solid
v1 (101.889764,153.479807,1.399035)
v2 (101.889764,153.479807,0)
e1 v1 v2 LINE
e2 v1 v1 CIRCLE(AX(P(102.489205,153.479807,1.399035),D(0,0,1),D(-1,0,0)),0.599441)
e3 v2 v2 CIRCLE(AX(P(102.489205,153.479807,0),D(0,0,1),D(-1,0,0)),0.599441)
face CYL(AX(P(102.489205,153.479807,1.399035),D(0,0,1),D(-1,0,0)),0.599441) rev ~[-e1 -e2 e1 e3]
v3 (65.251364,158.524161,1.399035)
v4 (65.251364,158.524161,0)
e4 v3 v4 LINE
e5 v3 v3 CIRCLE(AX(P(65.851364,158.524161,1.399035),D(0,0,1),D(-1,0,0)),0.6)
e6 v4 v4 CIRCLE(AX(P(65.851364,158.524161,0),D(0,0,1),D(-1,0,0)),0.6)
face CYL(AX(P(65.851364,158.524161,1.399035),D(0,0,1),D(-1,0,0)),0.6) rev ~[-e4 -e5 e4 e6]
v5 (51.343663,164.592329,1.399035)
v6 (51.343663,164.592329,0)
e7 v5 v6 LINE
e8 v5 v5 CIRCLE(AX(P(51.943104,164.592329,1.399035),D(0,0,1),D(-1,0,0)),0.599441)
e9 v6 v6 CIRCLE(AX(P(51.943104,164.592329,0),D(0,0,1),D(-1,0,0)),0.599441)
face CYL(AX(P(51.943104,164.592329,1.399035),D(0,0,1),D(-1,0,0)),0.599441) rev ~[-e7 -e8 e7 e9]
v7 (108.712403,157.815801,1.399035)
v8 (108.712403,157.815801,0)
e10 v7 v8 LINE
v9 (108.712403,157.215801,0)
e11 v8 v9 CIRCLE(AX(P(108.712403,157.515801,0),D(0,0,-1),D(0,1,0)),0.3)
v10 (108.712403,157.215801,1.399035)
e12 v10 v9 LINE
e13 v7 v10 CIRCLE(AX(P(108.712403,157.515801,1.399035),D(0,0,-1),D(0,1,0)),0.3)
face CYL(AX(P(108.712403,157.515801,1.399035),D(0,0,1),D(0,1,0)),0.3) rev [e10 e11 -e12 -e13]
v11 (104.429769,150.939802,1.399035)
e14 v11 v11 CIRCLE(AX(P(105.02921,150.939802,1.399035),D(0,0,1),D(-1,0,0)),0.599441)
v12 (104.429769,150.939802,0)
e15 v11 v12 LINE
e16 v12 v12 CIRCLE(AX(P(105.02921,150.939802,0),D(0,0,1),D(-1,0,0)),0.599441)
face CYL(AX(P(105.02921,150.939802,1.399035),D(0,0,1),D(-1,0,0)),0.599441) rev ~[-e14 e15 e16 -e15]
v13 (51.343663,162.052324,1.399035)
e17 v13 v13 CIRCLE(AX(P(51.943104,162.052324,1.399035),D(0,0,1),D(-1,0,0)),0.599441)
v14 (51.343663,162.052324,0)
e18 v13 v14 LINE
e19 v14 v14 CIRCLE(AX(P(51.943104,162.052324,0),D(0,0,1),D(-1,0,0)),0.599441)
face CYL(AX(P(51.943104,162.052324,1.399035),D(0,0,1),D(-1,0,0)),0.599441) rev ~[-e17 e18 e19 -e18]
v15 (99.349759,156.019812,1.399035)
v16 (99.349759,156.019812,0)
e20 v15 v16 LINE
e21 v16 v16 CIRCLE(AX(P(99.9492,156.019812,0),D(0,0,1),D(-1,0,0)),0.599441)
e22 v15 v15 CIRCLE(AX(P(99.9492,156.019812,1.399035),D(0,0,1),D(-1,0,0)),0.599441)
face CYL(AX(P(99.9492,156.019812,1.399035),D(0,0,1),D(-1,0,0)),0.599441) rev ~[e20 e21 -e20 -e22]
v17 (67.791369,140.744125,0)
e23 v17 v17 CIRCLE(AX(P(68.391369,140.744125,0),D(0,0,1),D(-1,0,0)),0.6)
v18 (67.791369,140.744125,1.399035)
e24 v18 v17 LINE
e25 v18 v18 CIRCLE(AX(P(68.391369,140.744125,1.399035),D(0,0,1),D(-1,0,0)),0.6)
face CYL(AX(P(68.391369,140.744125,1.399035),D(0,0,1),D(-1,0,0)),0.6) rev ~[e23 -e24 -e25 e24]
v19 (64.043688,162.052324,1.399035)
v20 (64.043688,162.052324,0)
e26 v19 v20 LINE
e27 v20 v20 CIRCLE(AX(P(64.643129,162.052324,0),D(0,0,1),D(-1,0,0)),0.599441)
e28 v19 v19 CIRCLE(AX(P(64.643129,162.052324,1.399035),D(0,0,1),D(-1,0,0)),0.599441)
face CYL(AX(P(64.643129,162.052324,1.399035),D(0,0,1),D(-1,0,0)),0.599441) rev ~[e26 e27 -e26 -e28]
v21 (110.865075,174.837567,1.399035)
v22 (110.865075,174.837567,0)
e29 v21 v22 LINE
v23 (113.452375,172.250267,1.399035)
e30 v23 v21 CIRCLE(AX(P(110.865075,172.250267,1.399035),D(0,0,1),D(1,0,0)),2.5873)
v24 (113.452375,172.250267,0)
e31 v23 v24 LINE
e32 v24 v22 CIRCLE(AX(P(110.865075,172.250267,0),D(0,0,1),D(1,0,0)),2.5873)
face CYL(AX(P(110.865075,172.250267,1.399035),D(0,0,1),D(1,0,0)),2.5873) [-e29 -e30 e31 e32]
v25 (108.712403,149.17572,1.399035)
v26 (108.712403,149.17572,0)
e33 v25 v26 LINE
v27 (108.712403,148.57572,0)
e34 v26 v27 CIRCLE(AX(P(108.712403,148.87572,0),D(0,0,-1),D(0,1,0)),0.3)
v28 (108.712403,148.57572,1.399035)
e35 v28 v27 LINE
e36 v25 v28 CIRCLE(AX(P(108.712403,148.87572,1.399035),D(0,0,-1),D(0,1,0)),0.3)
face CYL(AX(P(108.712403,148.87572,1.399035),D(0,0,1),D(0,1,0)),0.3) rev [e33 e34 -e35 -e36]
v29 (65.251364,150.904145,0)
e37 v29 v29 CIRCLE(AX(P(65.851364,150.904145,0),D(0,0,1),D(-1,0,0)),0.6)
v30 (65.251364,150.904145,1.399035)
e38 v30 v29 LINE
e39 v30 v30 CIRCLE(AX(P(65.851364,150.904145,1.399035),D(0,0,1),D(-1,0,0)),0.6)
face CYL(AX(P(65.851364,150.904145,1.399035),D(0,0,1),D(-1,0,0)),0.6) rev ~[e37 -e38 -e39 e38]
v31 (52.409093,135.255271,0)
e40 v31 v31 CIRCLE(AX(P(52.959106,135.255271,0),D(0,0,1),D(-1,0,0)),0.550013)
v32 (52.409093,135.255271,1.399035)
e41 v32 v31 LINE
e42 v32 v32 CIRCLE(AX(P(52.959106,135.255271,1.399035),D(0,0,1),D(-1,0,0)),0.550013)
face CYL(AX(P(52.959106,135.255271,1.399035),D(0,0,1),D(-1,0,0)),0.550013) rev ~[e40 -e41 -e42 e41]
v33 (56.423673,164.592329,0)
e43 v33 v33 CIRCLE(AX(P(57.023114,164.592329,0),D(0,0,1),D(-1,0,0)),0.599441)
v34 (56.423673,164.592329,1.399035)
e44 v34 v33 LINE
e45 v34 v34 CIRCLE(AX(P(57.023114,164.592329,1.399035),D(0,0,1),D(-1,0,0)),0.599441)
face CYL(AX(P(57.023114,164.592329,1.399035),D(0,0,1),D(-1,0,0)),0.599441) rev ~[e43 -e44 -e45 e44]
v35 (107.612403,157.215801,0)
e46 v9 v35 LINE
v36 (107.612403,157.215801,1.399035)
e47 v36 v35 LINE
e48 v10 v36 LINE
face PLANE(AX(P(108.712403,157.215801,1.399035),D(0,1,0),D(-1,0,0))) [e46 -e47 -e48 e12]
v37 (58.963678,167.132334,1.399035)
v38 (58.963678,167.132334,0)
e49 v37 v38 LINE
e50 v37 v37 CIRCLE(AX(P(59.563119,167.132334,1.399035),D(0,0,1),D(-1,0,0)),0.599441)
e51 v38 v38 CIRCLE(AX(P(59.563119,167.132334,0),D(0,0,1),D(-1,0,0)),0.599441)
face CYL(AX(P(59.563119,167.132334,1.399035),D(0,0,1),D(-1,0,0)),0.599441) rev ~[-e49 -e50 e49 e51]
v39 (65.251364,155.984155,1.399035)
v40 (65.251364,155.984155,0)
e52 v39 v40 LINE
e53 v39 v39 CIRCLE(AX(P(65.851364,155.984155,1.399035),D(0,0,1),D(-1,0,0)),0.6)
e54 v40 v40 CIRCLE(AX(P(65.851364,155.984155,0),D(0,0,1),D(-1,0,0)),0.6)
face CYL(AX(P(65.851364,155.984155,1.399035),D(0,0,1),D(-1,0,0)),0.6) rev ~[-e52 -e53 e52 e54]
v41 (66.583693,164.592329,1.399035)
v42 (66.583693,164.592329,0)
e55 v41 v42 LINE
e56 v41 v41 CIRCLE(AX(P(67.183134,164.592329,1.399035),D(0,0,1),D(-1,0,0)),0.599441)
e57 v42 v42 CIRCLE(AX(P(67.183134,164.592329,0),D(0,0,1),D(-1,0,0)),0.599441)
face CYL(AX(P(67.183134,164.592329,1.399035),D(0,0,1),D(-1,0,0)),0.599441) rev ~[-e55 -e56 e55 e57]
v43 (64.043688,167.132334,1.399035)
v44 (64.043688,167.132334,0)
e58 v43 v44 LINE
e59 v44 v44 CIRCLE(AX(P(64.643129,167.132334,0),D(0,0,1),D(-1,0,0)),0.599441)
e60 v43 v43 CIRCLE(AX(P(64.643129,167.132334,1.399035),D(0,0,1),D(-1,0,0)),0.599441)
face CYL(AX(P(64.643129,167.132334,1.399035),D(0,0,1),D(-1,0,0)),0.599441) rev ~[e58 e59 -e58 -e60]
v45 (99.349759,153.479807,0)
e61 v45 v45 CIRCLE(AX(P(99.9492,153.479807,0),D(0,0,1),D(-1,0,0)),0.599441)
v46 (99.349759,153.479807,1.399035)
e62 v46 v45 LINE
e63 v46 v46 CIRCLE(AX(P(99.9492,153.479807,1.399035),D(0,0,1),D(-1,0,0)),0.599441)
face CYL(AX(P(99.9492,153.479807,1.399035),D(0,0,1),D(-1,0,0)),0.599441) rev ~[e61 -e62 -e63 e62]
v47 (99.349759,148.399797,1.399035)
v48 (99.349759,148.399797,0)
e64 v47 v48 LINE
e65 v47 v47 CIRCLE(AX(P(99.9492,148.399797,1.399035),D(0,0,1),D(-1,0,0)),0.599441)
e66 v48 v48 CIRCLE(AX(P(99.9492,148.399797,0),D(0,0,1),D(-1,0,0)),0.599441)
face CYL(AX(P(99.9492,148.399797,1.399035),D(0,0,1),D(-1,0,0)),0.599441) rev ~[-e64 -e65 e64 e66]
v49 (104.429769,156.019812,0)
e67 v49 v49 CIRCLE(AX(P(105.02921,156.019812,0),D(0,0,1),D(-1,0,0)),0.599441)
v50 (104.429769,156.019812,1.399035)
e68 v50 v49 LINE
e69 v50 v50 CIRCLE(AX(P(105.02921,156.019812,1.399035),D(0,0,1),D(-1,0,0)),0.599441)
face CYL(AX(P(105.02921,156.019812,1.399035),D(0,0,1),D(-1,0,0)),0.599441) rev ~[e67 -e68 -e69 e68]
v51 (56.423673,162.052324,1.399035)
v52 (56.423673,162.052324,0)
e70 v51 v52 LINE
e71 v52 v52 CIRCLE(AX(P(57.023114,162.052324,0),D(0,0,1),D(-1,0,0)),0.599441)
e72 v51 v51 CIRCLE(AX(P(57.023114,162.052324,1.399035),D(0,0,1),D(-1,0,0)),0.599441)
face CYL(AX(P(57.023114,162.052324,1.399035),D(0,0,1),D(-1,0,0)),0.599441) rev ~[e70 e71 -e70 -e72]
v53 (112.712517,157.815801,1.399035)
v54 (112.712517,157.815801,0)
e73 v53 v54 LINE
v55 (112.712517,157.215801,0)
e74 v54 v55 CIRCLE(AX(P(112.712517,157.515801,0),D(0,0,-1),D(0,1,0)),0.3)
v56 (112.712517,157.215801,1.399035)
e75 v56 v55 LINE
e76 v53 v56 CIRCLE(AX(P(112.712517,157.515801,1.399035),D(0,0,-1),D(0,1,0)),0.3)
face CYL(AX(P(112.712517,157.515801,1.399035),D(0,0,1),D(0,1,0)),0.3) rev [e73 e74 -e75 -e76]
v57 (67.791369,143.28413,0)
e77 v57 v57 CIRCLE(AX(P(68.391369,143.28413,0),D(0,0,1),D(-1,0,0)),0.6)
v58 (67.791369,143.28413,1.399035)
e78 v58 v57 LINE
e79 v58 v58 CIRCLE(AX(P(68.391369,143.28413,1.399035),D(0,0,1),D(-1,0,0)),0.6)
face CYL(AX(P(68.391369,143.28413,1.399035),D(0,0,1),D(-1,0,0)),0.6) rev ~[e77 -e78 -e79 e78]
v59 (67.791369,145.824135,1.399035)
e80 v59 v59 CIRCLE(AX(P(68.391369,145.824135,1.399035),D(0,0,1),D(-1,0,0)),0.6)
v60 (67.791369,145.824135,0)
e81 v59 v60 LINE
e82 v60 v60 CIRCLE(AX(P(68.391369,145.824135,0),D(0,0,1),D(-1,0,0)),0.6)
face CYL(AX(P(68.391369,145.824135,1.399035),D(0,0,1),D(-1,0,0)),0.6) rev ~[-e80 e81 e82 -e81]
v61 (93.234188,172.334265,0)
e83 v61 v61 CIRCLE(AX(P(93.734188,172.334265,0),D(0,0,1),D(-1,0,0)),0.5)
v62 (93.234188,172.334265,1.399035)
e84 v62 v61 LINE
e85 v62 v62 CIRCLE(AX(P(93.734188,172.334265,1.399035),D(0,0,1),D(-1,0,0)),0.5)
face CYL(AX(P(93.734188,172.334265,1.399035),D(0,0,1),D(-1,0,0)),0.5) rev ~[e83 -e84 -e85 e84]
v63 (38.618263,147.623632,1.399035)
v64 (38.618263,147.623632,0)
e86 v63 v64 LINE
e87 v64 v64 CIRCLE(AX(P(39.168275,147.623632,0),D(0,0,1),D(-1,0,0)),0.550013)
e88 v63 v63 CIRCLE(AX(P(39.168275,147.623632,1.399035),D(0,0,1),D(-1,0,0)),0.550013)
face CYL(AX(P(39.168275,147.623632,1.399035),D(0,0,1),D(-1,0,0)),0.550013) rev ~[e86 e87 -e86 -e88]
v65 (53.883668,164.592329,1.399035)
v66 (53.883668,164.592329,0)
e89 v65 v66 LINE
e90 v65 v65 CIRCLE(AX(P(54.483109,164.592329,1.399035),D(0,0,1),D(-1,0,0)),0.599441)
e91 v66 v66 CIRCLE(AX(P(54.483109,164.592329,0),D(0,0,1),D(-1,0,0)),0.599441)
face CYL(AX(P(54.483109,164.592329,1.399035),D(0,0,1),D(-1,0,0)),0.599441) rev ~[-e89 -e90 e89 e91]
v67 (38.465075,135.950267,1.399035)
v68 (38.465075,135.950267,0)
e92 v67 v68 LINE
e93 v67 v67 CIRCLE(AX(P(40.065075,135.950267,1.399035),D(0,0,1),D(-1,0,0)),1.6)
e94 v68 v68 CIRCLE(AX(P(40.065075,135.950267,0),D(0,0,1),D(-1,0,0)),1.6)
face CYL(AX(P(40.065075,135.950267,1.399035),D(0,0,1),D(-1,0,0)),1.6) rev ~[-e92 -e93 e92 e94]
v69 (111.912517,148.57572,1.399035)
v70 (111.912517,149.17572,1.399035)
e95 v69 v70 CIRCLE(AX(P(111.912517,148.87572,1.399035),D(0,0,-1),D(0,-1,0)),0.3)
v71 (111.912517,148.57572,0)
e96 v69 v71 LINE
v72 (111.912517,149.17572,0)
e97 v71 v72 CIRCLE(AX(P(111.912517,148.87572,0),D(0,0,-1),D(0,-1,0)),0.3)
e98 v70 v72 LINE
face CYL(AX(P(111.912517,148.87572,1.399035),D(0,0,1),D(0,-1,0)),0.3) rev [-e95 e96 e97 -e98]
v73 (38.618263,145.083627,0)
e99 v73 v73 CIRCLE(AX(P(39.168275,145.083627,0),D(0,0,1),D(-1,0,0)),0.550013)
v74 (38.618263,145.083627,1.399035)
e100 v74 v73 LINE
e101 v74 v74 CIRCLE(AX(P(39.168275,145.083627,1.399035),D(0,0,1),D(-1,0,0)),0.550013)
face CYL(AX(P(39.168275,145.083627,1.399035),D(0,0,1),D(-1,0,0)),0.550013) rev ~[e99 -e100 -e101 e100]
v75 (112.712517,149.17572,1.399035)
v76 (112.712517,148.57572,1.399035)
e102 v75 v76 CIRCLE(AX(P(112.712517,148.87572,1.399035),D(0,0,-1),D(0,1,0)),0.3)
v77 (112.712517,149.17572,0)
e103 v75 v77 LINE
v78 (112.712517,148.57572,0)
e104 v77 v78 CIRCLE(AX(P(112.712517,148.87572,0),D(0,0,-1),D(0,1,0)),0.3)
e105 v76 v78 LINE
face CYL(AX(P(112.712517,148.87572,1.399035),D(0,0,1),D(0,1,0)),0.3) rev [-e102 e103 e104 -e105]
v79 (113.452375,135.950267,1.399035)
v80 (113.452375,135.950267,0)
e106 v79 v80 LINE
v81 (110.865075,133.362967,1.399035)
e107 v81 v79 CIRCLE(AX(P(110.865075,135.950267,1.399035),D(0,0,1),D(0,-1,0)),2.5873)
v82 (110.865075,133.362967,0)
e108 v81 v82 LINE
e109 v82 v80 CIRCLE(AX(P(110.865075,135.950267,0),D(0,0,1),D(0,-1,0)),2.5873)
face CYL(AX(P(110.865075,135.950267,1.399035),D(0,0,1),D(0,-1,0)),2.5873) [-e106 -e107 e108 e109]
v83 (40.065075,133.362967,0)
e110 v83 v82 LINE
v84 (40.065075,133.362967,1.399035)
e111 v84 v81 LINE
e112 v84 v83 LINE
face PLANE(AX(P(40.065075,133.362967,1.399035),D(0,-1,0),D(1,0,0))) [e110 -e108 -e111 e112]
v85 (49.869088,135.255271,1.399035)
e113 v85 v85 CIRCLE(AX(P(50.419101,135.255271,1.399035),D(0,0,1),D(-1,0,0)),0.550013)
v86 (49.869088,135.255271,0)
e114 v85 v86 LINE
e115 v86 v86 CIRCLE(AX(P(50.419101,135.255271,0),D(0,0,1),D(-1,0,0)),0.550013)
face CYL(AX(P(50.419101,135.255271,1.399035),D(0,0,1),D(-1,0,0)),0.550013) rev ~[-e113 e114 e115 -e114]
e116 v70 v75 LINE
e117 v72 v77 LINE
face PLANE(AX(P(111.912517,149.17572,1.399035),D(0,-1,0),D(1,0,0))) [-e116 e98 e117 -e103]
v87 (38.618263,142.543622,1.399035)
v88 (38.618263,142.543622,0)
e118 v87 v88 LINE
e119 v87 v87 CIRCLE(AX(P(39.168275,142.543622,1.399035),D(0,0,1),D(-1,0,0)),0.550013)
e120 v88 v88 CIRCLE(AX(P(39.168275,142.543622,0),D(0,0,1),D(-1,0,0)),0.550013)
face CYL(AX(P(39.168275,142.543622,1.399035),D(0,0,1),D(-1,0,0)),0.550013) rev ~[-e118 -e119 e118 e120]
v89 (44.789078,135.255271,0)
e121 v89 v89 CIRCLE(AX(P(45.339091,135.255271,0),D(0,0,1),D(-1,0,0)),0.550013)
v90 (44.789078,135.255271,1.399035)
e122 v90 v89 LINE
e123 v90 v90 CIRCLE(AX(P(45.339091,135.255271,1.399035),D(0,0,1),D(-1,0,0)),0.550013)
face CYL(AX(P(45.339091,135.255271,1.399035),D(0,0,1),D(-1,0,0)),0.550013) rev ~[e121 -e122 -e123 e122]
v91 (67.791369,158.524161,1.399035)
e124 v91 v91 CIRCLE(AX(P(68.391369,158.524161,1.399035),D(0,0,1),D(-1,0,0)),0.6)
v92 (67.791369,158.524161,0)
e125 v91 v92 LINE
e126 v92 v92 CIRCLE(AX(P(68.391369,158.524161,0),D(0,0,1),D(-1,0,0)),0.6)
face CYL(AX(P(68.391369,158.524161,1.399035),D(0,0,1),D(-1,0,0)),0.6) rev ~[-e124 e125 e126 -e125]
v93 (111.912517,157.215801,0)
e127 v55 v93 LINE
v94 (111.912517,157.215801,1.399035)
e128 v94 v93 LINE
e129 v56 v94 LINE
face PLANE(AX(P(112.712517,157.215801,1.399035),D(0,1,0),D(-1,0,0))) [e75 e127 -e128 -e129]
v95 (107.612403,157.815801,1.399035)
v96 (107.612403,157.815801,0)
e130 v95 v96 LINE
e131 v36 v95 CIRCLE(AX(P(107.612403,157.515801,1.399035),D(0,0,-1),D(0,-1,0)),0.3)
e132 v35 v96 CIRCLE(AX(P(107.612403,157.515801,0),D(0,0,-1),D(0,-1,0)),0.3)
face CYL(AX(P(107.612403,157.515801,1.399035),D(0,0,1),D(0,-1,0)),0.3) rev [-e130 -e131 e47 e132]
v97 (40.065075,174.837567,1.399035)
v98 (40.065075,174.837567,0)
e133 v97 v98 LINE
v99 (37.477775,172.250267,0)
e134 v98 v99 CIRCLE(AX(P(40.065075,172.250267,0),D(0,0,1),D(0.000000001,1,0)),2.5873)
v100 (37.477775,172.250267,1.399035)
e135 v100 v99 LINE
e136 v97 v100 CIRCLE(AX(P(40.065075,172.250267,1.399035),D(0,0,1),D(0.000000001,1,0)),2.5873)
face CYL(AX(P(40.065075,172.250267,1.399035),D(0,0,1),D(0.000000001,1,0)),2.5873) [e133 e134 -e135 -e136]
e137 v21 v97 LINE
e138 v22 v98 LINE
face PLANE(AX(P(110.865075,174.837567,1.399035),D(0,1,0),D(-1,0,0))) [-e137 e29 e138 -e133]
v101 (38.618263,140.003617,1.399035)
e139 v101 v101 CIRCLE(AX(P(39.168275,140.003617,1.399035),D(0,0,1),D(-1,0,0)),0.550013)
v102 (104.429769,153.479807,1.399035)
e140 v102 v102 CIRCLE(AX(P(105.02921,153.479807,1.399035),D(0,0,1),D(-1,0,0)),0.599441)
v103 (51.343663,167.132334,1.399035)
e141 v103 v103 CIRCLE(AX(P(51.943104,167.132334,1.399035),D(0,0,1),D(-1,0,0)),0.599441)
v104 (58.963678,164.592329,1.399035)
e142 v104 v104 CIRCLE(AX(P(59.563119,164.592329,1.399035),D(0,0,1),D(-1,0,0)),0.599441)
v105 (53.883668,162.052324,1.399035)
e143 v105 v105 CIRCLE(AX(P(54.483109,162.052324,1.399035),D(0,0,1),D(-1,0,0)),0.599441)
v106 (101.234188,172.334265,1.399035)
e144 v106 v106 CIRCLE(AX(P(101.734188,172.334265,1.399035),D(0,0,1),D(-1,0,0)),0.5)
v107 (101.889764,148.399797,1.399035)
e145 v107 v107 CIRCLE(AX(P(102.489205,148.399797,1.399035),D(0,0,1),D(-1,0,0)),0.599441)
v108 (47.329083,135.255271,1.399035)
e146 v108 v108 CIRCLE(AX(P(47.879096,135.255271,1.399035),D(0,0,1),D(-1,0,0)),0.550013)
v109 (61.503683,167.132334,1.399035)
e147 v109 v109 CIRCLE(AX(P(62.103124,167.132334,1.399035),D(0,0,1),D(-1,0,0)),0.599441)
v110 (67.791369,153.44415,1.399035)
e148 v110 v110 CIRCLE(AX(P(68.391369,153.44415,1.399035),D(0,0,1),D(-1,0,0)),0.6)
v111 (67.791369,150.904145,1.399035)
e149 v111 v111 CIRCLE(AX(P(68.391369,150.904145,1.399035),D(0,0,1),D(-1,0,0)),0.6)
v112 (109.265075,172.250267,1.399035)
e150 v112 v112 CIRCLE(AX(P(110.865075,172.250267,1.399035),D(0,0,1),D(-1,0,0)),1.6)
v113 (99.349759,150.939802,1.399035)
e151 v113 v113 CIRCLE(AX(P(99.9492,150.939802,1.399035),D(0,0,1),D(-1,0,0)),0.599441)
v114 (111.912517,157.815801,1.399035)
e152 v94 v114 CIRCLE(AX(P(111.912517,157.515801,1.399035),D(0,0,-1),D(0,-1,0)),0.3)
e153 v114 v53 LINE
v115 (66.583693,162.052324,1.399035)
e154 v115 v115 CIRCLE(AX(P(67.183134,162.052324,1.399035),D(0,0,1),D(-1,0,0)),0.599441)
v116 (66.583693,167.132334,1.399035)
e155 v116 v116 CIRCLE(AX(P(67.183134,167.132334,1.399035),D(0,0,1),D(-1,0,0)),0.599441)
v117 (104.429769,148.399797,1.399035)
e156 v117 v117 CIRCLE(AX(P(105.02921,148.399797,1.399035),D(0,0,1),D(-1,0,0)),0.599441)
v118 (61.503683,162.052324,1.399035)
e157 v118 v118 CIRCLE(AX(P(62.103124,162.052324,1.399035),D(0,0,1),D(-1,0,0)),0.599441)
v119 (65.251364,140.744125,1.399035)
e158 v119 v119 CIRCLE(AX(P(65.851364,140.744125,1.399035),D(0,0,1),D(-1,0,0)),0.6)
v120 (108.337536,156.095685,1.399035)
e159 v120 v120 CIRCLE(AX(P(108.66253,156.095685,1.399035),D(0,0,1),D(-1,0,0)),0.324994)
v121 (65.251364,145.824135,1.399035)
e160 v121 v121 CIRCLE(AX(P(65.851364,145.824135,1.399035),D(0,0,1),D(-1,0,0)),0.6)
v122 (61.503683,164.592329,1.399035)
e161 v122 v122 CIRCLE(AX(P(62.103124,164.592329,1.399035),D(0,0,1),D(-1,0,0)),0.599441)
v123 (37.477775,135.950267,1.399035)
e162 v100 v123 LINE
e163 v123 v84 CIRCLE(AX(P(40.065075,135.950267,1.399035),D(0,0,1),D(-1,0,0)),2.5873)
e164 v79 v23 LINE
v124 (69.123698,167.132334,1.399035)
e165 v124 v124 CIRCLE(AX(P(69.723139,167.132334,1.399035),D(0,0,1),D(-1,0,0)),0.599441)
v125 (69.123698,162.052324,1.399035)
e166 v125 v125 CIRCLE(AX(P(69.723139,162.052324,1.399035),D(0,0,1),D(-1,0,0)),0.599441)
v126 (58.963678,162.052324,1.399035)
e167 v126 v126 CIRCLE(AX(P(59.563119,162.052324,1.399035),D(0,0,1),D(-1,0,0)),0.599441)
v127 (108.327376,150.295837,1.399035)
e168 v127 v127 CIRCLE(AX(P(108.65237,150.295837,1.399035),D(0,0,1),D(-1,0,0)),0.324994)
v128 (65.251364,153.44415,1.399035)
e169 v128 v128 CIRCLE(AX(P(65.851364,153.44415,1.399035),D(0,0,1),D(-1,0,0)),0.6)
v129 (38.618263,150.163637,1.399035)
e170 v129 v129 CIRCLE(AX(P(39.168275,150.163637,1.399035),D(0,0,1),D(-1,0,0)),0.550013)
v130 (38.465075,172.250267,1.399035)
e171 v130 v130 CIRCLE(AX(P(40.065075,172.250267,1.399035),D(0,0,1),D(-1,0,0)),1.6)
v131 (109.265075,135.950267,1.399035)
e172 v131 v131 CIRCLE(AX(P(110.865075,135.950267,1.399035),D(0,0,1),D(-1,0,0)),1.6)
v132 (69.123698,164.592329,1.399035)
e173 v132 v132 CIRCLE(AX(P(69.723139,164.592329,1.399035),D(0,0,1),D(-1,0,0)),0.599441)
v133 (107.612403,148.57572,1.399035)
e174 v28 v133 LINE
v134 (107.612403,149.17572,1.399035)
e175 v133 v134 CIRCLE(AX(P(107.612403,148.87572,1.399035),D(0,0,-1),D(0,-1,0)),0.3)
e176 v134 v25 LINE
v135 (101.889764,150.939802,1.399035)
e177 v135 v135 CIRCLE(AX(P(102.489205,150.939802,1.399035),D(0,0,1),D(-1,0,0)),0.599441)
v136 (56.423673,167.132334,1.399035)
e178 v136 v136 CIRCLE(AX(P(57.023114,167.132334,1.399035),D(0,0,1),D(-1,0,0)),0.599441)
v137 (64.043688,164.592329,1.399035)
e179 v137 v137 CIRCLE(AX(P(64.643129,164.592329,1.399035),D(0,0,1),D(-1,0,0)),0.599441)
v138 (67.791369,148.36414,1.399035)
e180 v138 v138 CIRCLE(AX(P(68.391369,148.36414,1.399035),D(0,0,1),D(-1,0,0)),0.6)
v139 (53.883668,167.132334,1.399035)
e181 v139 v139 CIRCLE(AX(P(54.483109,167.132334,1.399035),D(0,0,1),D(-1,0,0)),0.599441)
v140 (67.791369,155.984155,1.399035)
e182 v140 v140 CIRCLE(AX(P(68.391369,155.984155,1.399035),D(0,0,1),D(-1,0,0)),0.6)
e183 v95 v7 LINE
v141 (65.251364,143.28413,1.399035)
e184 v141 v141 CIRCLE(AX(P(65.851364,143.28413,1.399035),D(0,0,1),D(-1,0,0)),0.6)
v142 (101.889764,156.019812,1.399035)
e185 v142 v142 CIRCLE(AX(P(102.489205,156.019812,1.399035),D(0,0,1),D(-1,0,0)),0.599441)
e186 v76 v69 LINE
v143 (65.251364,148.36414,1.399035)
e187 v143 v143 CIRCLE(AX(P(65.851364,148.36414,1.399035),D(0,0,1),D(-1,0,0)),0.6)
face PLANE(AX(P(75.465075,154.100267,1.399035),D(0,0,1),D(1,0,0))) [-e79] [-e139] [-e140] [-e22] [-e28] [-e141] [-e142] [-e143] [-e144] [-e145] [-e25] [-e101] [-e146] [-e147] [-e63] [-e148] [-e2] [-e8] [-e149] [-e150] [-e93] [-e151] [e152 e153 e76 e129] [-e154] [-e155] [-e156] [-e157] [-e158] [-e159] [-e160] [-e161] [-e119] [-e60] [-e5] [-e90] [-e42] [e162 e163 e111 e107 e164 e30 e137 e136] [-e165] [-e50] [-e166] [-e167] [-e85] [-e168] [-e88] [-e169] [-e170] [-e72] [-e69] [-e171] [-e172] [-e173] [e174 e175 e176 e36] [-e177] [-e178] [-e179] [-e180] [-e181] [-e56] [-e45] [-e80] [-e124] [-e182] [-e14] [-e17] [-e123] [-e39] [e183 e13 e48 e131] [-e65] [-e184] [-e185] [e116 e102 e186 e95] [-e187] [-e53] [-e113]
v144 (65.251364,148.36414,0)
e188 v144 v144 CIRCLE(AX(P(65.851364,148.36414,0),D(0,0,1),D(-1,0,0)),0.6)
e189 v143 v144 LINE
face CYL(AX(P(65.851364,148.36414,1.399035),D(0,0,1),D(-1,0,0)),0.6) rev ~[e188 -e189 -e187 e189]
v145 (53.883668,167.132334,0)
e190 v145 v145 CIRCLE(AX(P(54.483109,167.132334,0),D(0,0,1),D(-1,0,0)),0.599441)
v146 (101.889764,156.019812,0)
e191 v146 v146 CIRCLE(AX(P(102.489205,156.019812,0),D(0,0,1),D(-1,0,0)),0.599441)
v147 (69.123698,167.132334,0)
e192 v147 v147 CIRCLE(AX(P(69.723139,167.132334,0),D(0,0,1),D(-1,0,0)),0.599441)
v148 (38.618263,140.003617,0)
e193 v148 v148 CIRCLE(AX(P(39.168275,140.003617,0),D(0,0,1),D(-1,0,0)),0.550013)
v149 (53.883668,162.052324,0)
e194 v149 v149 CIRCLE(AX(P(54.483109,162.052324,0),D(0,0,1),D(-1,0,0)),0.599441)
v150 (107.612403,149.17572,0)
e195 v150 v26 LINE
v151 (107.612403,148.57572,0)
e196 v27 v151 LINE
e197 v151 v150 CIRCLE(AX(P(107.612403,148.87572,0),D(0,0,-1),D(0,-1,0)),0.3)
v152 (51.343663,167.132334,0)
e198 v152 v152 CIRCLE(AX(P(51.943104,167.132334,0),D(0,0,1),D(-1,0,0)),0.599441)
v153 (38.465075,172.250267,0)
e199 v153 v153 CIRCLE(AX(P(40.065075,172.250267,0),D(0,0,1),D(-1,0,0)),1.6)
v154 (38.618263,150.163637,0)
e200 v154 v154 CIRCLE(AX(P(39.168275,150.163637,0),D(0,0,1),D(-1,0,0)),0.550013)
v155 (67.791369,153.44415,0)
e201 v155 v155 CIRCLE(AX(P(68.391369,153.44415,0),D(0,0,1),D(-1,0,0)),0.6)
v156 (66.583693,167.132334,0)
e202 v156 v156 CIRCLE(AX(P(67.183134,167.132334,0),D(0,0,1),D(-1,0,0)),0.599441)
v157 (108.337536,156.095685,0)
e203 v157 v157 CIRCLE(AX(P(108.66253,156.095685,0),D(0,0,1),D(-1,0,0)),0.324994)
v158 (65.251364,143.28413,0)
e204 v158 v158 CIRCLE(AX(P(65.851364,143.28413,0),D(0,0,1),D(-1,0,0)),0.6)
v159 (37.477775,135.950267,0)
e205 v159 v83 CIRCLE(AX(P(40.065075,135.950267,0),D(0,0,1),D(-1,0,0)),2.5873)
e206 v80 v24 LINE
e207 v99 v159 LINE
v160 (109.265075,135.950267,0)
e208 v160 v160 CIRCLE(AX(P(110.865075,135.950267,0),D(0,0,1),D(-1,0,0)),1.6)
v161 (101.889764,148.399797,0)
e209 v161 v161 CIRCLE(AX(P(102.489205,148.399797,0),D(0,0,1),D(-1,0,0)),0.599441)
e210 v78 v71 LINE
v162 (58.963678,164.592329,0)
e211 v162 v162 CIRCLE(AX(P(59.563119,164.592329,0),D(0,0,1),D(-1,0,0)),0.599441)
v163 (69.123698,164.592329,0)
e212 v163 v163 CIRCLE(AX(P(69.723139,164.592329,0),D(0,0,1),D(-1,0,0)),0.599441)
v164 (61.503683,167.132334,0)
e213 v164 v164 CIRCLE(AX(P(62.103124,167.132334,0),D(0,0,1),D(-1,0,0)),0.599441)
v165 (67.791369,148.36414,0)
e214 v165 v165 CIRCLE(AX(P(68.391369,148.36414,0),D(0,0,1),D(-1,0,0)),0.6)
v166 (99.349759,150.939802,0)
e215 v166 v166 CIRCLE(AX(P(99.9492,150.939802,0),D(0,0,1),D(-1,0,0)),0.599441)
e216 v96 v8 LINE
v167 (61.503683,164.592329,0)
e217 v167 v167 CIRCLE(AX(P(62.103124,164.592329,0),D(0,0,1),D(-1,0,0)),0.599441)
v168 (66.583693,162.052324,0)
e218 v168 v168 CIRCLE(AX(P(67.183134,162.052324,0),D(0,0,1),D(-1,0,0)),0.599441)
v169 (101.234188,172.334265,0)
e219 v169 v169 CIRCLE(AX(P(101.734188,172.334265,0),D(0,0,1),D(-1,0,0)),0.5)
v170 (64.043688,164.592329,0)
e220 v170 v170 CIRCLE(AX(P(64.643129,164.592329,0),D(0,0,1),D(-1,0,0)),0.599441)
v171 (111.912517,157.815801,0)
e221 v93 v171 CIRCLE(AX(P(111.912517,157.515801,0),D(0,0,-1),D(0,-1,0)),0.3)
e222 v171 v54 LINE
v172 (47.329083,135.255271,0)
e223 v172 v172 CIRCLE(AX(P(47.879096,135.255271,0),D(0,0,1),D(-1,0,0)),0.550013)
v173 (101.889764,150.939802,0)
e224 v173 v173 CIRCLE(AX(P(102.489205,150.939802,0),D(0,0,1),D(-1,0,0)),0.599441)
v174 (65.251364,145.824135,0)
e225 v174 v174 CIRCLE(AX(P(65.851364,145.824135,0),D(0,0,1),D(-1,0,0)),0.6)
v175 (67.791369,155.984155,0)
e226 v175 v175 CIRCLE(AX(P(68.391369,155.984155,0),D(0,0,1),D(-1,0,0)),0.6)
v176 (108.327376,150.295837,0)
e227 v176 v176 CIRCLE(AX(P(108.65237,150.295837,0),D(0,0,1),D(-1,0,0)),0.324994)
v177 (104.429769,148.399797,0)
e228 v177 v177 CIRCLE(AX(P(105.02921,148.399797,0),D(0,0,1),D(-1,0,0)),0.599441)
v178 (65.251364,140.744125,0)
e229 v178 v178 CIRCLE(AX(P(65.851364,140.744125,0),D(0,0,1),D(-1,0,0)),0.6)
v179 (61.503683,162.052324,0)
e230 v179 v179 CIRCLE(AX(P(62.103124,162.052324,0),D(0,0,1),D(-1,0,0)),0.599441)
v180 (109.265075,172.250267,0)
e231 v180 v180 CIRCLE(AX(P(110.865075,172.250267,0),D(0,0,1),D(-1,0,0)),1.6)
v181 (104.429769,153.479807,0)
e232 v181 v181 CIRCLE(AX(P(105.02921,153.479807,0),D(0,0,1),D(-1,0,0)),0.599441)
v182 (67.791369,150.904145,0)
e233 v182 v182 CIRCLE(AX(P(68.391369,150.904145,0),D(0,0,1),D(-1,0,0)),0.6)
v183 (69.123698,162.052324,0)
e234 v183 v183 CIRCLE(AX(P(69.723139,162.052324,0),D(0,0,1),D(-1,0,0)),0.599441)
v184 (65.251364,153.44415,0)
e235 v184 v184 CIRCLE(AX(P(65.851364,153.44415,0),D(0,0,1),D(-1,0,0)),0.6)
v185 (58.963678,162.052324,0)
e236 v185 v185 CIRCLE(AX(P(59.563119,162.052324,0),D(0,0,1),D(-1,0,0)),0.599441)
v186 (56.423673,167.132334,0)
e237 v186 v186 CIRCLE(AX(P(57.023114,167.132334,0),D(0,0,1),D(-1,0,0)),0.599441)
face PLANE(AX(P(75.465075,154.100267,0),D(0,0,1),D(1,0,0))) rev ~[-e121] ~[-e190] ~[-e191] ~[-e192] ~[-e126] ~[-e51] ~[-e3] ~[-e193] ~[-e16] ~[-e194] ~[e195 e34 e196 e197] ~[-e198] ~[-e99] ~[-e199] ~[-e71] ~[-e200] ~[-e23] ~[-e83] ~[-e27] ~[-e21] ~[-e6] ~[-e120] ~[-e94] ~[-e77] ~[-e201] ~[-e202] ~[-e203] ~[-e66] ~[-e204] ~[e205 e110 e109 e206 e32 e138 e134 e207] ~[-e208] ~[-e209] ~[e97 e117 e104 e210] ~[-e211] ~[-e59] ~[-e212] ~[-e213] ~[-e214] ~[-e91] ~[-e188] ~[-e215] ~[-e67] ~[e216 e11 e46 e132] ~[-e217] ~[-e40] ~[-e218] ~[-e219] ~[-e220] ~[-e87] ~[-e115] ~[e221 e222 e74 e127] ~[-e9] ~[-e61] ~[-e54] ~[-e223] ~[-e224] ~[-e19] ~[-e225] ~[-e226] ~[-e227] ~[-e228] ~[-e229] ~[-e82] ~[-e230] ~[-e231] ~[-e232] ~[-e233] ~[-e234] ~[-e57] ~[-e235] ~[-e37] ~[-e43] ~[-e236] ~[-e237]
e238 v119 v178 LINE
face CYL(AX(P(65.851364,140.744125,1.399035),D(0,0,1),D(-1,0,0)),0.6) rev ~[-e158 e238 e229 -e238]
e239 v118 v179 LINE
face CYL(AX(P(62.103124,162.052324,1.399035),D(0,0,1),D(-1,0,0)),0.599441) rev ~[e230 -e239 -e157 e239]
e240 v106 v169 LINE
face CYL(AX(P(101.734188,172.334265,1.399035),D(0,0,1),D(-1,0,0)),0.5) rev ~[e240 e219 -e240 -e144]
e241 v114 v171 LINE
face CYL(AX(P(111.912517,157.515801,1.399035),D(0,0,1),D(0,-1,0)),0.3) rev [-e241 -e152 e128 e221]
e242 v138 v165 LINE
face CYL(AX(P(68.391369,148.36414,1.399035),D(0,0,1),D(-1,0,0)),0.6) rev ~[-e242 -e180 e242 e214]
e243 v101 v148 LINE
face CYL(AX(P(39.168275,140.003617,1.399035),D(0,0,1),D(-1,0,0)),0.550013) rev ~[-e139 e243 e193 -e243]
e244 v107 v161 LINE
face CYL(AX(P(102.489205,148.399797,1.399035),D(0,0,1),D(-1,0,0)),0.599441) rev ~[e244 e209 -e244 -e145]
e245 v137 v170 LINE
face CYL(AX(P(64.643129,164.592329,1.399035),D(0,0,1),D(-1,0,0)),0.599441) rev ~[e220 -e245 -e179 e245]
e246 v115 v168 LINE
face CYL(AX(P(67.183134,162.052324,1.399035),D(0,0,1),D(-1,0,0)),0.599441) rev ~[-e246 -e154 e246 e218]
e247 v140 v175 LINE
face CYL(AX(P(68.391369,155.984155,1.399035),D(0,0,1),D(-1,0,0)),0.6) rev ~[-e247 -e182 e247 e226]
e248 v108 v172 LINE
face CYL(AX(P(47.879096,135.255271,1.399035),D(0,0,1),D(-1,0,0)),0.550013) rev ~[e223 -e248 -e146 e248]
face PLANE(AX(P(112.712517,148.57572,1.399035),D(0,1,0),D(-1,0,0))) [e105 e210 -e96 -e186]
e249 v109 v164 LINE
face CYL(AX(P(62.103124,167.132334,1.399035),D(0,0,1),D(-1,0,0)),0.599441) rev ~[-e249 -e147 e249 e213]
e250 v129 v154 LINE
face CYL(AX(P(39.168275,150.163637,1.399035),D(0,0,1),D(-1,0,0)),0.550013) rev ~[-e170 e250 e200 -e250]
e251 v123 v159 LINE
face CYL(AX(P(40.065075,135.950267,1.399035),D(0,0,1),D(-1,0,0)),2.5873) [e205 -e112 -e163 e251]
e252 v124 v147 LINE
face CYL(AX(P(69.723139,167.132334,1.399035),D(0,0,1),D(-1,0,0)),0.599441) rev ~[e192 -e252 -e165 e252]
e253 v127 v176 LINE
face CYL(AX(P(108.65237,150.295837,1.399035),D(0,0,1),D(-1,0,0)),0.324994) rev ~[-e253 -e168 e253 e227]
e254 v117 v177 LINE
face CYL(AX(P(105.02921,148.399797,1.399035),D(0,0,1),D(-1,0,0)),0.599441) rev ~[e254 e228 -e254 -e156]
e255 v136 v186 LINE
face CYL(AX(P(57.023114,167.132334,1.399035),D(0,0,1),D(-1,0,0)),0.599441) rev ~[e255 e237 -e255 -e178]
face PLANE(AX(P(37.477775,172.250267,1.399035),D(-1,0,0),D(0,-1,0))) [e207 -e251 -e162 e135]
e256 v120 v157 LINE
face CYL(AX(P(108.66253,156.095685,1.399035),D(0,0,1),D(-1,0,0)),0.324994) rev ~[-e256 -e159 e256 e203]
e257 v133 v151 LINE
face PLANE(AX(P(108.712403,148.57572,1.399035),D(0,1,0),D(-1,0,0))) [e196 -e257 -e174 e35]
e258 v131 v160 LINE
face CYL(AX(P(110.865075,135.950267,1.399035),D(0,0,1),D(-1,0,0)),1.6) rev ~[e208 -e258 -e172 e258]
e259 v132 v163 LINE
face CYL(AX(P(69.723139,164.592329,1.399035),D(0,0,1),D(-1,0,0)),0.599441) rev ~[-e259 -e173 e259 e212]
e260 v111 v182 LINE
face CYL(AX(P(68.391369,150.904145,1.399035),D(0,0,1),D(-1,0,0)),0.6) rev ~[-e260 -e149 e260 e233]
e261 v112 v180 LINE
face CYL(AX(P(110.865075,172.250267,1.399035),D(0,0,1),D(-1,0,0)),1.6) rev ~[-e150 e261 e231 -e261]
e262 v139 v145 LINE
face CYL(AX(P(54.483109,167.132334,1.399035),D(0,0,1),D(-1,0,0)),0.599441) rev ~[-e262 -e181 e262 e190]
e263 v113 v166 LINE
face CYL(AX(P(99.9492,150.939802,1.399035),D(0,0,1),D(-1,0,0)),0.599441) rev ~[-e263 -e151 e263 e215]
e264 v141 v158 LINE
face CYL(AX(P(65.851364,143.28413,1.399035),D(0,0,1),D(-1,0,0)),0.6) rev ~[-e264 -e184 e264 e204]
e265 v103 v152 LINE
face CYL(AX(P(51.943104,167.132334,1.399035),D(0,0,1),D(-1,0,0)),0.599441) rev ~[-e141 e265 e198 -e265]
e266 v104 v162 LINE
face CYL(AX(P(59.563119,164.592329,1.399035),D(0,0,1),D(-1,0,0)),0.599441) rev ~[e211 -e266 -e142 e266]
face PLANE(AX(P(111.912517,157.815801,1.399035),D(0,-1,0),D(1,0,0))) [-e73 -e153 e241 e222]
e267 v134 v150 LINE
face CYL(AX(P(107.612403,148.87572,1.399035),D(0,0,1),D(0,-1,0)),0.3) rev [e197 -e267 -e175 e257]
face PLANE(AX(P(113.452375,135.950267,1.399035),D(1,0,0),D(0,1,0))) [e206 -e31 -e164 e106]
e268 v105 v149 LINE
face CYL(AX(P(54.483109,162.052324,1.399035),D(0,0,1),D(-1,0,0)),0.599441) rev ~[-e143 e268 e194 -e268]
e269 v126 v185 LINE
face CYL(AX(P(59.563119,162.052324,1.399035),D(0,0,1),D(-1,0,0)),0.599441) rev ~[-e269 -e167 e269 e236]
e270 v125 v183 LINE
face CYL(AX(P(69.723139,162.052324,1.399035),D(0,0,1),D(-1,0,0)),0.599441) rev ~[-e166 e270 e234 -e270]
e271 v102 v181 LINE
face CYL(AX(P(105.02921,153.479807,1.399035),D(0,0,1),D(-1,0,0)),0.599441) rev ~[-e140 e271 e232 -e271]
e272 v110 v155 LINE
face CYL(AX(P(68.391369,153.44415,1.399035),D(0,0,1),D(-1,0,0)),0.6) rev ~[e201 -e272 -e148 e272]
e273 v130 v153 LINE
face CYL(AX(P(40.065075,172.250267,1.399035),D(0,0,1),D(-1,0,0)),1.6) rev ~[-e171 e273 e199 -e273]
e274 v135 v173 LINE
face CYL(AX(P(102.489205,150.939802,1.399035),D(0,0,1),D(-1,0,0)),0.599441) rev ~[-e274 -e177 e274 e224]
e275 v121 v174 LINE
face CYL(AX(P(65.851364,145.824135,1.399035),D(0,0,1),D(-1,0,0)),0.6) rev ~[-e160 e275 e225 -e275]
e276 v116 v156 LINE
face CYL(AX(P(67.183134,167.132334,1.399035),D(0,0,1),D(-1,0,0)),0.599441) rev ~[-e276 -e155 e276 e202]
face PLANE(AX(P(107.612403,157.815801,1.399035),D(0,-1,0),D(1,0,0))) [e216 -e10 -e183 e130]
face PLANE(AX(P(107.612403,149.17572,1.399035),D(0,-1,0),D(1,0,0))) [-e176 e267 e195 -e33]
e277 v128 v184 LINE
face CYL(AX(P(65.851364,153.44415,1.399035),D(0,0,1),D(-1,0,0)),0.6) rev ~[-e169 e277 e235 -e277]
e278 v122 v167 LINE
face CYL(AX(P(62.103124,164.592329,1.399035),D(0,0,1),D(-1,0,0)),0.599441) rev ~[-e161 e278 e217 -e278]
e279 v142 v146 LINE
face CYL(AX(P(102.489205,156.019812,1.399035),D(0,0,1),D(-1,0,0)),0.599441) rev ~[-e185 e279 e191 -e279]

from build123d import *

# Parameters (mm, degrees)
SKETCH_1_R      = 1.6
SKETCH_1_R_2    = 0.599441199
SKETCH_1_R_3    = 0.6
SKETCH_1_R_4    = 0.5
SKETCH_1_R_5    = 0.32499365
SKETCH_1_R_6    = 0.5500127
EXTRUDE_1_DEPTH = 1.399034798


with BuildPart() as part:
    # 草图1 → 凸台-拉伸1 (new body)
    with BuildSketch(Plane.XY.offset(1.399034798)):
        with BuildLine():
            Line((40.06507493, 133.362966726), (110.86507493, 133.362966726))
            ThreePointArc((110.86507493, 133.362966726), (112.694572287, 134.120769344), (113.452374905, 135.950266701))
            Line((113.452374905, 135.950266701), (113.452374905, 172.250266701))
            ThreePointArc((113.452374905, 172.250266701), (112.694572287, 174.079764058), (110.86507493, 174.837566675))
            Line((110.86507493, 174.837566675), (40.06507493, 174.837566675))
            ThreePointArc((40.06507493, 174.837566675), (38.235577573, 174.079764058), (37.477774956, 172.250266701))
            Line((37.477774956, 172.250266701), (37.477774956, 135.950266701))
            ThreePointArc((37.477774956, 135.950266701), (38.235577573, 134.120769344), (40.06507493, 133.362966726))
        make_face()
        with Locations(Location((40.06507493, 172.250266701, 0), (0, 0, 180))):
            Circle(SKETCH_1_R, mode=Mode.SUBTRACT)
        with Locations(Location((51.943103886, 167.132334265, 0), (0, 0, 180))):
            Circle(SKETCH_1_R_2, mode=Mode.SUBTRACT)
        with Locations(Location((54.483108966, 167.132334265, 0), (0, 0, 180))):
            Circle(SKETCH_1_R_2, mode=Mode.SUBTRACT)
        with Locations(Location((57.023114046, 167.132334265, 0), (0, 0, 180))):
            Circle(SKETCH_1_R_2, mode=Mode.SUBTRACT)
        with Locations(Location((51.943103886, 164.592329185, 0), (0, 0, 180))):
            Circle(SKETCH_1_R_2, mode=Mode.SUBTRACT)
        with Locations(Location((54.483108966, 164.592329185, 0), (0, 0, 180))):
            Circle(SKETCH_1_R_2, mode=Mode.SUBTRACT)
        with Locations(Location((57.023114046, 164.592329185, 0), (0, 0, 180))):
            Circle(SKETCH_1_R_2, mode=Mode.SUBTRACT)
        with Locations(Location((59.563119126, 167.132334265, 0), (0, 0, 180))):
            Circle(SKETCH_1_R_2, mode=Mode.SUBTRACT)
        with Locations(Location((62.103124206, 167.132334265, 0), (0, 0, 180))):
            Circle(SKETCH_1_R_2, mode=Mode.SUBTRACT)
        with Locations(Location((64.643129286, 167.132334265, 0), (0, 0, 180))):
            Circle(SKETCH_1_R_2, mode=Mode.SUBTRACT)
        with Locations(Location((59.563119126, 164.592329185, 0), (0, 0, 180))):
            Circle(SKETCH_1_R_2, mode=Mode.SUBTRACT)
        with Locations(Location((62.103124206, 164.592329185, 0), (0, 0, 180))):
            Circle(SKETCH_1_R_2, mode=Mode.SUBTRACT)
        with Locations(Location((64.643129286, 164.592329185, 0), (0, 0, 180))):
            Circle(SKETCH_1_R_2, mode=Mode.SUBTRACT)
        with Locations(Location((67.183134366, 167.132334265, 0), (0, 0, 180))):
            Circle(SKETCH_1_R_2, mode=Mode.SUBTRACT)
        with Locations(Location((69.723139446, 167.132334265, 0), (0, 0, 180))):
            Circle(SKETCH_1_R_2, mode=Mode.SUBTRACT)
        with Locations(Location((67.183134366, 164.592329185, 0), (0, 0, 180))):
            Circle(SKETCH_1_R_2, mode=Mode.SUBTRACT)
        with Locations(Location((69.723139446, 164.592329185, 0), (0, 0, 180))):
            Circle(SKETCH_1_R_2, mode=Mode.SUBTRACT)
        with Locations(Location((51.943103886, 162.052324105, 0), (0, 0, 180))):
            Circle(SKETCH_1_R_2, mode=Mode.SUBTRACT)
        with Locations(Location((54.483108966, 162.052324105, 0), (0, 0, 180))):
            Circle(SKETCH_1_R_2, mode=Mode.SUBTRACT)
        with Locations(Location((57.023114046, 162.052324105, 0), (0, 0, 180))):
            Circle(SKETCH_1_R_2, mode=Mode.SUBTRACT)
        with Locations(Location((59.563119126, 162.052324105, 0), (0, 0, 180))):
            Circle(SKETCH_1_R_2, mode=Mode.SUBTRACT)
        with Locations(Location((62.103124206, 162.052324105, 0), (0, 0, 180))):
            Circle(SKETCH_1_R_2, mode=Mode.SUBTRACT)
        with Locations(Location((64.643129286, 162.052324105, 0), (0, 0, 180))):
            Circle(SKETCH_1_R_2, mode=Mode.SUBTRACT)
        with Locations(Location((67.183134366, 162.052324105, 0), (0, 0, 180))):
            Circle(SKETCH_1_R_2, mode=Mode.SUBTRACT)
        with Locations(Location((69.723139446, 162.052324105, 0), (0, 0, 180))):
            Circle(SKETCH_1_R_2, mode=Mode.SUBTRACT)
        with Locations(Location((65.851363983, 158.524160528, 0), (0, 0, 180))):
            Circle(SKETCH_1_R_3, mode=Mode.SUBTRACT)
        with Locations(Location((65.851363983, 155.984155448, 0), (0, 0, 180))):
            Circle(SKETCH_1_R_3, mode=Mode.SUBTRACT)
        with Locations(Location((68.391369063, 158.524160528, 0), (0, 0, 180))):
            Circle(SKETCH_1_R_3, mode=Mode.SUBTRACT)
        with Locations(Location((68.391369063, 155.984155448, 0), (0, 0, 180))):
            Circle(SKETCH_1_R_3, mode=Mode.SUBTRACT)
        with Locations(Location((93.734188468, 172.334264669, 0), (0, 0, 180))):
            Circle(SKETCH_1_R_4, mode=Mode.SUBTRACT)
        with Locations(Location((101.734188468, 172.334264669, 0), (0, 0, 180))):
            Circle(SKETCH_1_R_4, mode=Mode.SUBTRACT)
        with Locations(Location((110.86507493, 172.250266701, 0), (0, 0, 180))):
            Circle(SKETCH_1_R, mode=Mode.SUBTRACT)
        with Locations(Location((99.949199898, 156.01981204, 0), (0, 0, 180))):
            Circle(SKETCH_1_R_2, mode=Mode.SUBTRACT)
        with Locations(Location((102.489204978, 156.01981204, 0), (0, 0, 180))):
            Circle(SKETCH_1_R_2, mode=Mode.SUBTRACT)
        with Locations(Location((105.029210058, 156.01981204, 0), (0, 0, 180))):
            Circle(SKETCH_1_R_2, mode=Mode.SUBTRACT)
        with Locations(Location((108.662529845, 156.095684531, 0), (0, 0, 180))):
            Circle(SKETCH_1_R_5, mode=Mode.SUBTRACT)
        with Locations(Location((39.168275337, 150.163637287, 0), (0, 0, 180))):
            Circle(SKETCH_1_R_6, mode=Mode.SUBTRACT)
        with Locations(Location((39.168275337, 147.623632207, 0), (0, 0, 180))):
            Circle(SKETCH_1_R_6, mode=Mode.SUBTRACT)
        with Locations(Location((39.168275337, 145.083627127, 0), (0, 0, 180))):
            Circle(SKETCH_1_R_6, mode=Mode.SUBTRACT)
        with Locations(Location((65.851363983, 153.444150368, 0), (0, 0, 180))):
            Circle(SKETCH_1_R_3, mode=Mode.SUBTRACT)
        with Locations(Location((65.851363983, 150.904145288, 0), (0, 0, 180))):
            Circle(SKETCH_1_R_3, mode=Mode.SUBTRACT)
        with Locations(Location((68.391369063, 153.444150368, 0), (0, 0, 180))):
            Circle(SKETCH_1_R_3, mode=Mode.SUBTRACT)
        with Locations(Location((68.391369063, 150.904145288, 0), (0, 0, 180))):
            Circle(SKETCH_1_R_3, mode=Mode.SUBTRACT)
        with Locations(Location((65.851363983, 148.364140208, 0), (0, 0, 180))):
            Circle(SKETCH_1_R_3, mode=Mode.SUBTRACT)
        with Locations(Location((65.851363983, 145.824135128, 0), (0, 0, 180))):
            Circle(SKETCH_1_R_3, mode=Mode.SUBTRACT)
        with Locations(Location((68.391369063, 148.364140208, 0), (0, 0, 180))):
            Circle(SKETCH_1_R_3, mode=Mode.SUBTRACT)
        with Locations(Location((68.391369063, 145.824135128, 0), (0, 0, 180))):
            Circle(SKETCH_1_R_3, mode=Mode.SUBTRACT)
        with Locations(Location((39.168275337, 142.543622047, 0), (0, 0, 180))):
            Circle(SKETCH_1_R_6, mode=Mode.SUBTRACT)
        with Locations(Location((39.168275337, 140.003616967, 0), (0, 0, 180))):
            Circle(SKETCH_1_R_6, mode=Mode.SUBTRACT)
        with Locations(Location((40.06507493, 135.950266701, 0), (0, 0, 180))):
            Circle(SKETCH_1_R, mode=Mode.SUBTRACT)
        with Locations(Location((45.339090678, 135.255270511, 0), (0, 0, 180))):
            Circle(SKETCH_1_R_6, mode=Mode.SUBTRACT)
        with Locations(Location((47.879095758, 135.255270511, 0), (0, 0, 180))):
            Circle(SKETCH_1_R_6, mode=Mode.SUBTRACT)
        with Locations(Location((50.419100838, 135.255270511, 0), (0, 0, 180))):
            Circle(SKETCH_1_R_6, mode=Mode.SUBTRACT)
        with Locations(Location((52.959105918, 135.255270511, 0), (0, 0, 180))):
            Circle(SKETCH_1_R_6, mode=Mode.SUBTRACT)
        with Locations(Location((65.851363983, 143.284130048, 0), (0, 0, 180))):
            Circle(SKETCH_1_R_3, mode=Mode.SUBTRACT)
        with Locations(Location((65.851363983, 140.744124968, 0), (0, 0, 180))):
            Circle(SKETCH_1_R_3, mode=Mode.SUBTRACT)
        with Locations(Location((68.391369063, 143.284130048, 0), (0, 0, 180))):
            Circle(SKETCH_1_R_3, mode=Mode.SUBTRACT)
        with Locations(Location((68.391369063, 140.744124968, 0), (0, 0, 180))):
            Circle(SKETCH_1_R_3, mode=Mode.SUBTRACT)
        with Locations(Location((99.949199898, 153.47980696, 0), (0, 0, 180))):
            Circle(SKETCH_1_R_2, mode=Mode.SUBTRACT)
        with Locations(Location((102.489204978, 153.47980696, 0), (0, 0, 180))):
            Circle(SKETCH_1_R_2, mode=Mode.SUBTRACT)
        with Locations(Location((99.949199898, 150.93980188, 0), (0, 0, 180))):
            Circle(SKETCH_1_R_2, mode=Mode.SUBTRACT)
        with Locations(Location((102.489204978, 150.93980188, 0), (0, 0, 180))):
            Circle(SKETCH_1_R_2, mode=Mode.SUBTRACT)
        with Locations(Location((105.029210058, 153.47980696, 0), (0, 0, 180))):
            Circle(SKETCH_1_R_2, mode=Mode.SUBTRACT)
        with Locations(Location((105.029210058, 150.93980188, 0), (0, 0, 180))):
            Circle(SKETCH_1_R_2, mode=Mode.SUBTRACT)
        with Locations(Location((108.652369825, 150.295836932, 0), (0, 0, 180))):
            Circle(SKETCH_1_R_5, mode=Mode.SUBTRACT)
        with Locations(Location((99.949199898, 148.3997968, 0), (0, 0, 180))):
            Circle(SKETCH_1_R_2, mode=Mode.SUBTRACT)
        with Locations(Location((102.489204978, 148.3997968, 0), (0, 0, 180))):
            Circle(SKETCH_1_R_2, mode=Mode.SUBTRACT)
        with Locations(Location((105.029210058, 148.3997968, 0), (0, 0, 180))):
            Circle(SKETCH_1_R_2, mode=Mode.SUBTRACT)
        with Locations(Location((110.86507493, 135.950266701, 0), (0, 0, 180))):
            Circle(SKETCH_1_R, mode=Mode.SUBTRACT)
        with BuildLine():
            Line((107.612402845, 157.815801372), (108.712402845, 157.815801372))
            ThreePointArc((108.712402845, 157.815801372), (109.012402845, 157.515801372), (108.712402845, 157.215801372))
            Line((108.712402845, 157.215801372), (107.612402845, 157.215801372))
            ThreePointArc((107.612402845, 157.215801372), (107.312402845, 157.515801372), (107.612402845, 157.815801372))
        make_face(mode=Mode.SUBTRACT)
        with BuildLine():
            Line((111.912517145, 157.815801372), (112.712517145, 157.815801372))
            ThreePointArc((112.712517145, 157.815801372), (113.012517145, 157.515801372), (112.712517145, 157.215801372))
            Line((112.712517145, 157.215801372), (111.912517145, 157.215801372))
            ThreePointArc((111.912517145, 157.215801372), (111.612517145, 157.515801372), (111.912517145, 157.815801372))
        make_face(mode=Mode.SUBTRACT)
        with BuildLine():
            Line((107.612402845, 149.175720091), (108.712402845, 149.175720091))
            ThreePointArc((108.712402845, 149.175720091), (109.012402845, 148.875720091), (108.712402845, 148.575720091))
            Line((108.712402845, 148.575720091), (107.612402845, 148.575720091))
            ThreePointArc((107.612402845, 148.575720091), (107.312402845, 148.875720091), (107.612402845, 149.175720091))
        make_face(mode=Mode.SUBTRACT)
        with BuildLine():
            Line((111.912517145, 149.175720091), (112.712517145, 149.175720091))
            ThreePointArc((112.712517145, 149.175720091), (113.012517145, 148.875720091), (112.712517145, 148.575720091))
            Line((112.712517145, 148.575720091), (111.912517145, 148.575720091))
            ThreePointArc((111.912517145, 148.575720091), (111.612517145, 148.875720091), (111.912517145, 149.175720091))
        make_face(mode=Mode.SUBTRACT)
    extrude(amount=-EXTRUDE_1_DEPTH)


solid = part.part
